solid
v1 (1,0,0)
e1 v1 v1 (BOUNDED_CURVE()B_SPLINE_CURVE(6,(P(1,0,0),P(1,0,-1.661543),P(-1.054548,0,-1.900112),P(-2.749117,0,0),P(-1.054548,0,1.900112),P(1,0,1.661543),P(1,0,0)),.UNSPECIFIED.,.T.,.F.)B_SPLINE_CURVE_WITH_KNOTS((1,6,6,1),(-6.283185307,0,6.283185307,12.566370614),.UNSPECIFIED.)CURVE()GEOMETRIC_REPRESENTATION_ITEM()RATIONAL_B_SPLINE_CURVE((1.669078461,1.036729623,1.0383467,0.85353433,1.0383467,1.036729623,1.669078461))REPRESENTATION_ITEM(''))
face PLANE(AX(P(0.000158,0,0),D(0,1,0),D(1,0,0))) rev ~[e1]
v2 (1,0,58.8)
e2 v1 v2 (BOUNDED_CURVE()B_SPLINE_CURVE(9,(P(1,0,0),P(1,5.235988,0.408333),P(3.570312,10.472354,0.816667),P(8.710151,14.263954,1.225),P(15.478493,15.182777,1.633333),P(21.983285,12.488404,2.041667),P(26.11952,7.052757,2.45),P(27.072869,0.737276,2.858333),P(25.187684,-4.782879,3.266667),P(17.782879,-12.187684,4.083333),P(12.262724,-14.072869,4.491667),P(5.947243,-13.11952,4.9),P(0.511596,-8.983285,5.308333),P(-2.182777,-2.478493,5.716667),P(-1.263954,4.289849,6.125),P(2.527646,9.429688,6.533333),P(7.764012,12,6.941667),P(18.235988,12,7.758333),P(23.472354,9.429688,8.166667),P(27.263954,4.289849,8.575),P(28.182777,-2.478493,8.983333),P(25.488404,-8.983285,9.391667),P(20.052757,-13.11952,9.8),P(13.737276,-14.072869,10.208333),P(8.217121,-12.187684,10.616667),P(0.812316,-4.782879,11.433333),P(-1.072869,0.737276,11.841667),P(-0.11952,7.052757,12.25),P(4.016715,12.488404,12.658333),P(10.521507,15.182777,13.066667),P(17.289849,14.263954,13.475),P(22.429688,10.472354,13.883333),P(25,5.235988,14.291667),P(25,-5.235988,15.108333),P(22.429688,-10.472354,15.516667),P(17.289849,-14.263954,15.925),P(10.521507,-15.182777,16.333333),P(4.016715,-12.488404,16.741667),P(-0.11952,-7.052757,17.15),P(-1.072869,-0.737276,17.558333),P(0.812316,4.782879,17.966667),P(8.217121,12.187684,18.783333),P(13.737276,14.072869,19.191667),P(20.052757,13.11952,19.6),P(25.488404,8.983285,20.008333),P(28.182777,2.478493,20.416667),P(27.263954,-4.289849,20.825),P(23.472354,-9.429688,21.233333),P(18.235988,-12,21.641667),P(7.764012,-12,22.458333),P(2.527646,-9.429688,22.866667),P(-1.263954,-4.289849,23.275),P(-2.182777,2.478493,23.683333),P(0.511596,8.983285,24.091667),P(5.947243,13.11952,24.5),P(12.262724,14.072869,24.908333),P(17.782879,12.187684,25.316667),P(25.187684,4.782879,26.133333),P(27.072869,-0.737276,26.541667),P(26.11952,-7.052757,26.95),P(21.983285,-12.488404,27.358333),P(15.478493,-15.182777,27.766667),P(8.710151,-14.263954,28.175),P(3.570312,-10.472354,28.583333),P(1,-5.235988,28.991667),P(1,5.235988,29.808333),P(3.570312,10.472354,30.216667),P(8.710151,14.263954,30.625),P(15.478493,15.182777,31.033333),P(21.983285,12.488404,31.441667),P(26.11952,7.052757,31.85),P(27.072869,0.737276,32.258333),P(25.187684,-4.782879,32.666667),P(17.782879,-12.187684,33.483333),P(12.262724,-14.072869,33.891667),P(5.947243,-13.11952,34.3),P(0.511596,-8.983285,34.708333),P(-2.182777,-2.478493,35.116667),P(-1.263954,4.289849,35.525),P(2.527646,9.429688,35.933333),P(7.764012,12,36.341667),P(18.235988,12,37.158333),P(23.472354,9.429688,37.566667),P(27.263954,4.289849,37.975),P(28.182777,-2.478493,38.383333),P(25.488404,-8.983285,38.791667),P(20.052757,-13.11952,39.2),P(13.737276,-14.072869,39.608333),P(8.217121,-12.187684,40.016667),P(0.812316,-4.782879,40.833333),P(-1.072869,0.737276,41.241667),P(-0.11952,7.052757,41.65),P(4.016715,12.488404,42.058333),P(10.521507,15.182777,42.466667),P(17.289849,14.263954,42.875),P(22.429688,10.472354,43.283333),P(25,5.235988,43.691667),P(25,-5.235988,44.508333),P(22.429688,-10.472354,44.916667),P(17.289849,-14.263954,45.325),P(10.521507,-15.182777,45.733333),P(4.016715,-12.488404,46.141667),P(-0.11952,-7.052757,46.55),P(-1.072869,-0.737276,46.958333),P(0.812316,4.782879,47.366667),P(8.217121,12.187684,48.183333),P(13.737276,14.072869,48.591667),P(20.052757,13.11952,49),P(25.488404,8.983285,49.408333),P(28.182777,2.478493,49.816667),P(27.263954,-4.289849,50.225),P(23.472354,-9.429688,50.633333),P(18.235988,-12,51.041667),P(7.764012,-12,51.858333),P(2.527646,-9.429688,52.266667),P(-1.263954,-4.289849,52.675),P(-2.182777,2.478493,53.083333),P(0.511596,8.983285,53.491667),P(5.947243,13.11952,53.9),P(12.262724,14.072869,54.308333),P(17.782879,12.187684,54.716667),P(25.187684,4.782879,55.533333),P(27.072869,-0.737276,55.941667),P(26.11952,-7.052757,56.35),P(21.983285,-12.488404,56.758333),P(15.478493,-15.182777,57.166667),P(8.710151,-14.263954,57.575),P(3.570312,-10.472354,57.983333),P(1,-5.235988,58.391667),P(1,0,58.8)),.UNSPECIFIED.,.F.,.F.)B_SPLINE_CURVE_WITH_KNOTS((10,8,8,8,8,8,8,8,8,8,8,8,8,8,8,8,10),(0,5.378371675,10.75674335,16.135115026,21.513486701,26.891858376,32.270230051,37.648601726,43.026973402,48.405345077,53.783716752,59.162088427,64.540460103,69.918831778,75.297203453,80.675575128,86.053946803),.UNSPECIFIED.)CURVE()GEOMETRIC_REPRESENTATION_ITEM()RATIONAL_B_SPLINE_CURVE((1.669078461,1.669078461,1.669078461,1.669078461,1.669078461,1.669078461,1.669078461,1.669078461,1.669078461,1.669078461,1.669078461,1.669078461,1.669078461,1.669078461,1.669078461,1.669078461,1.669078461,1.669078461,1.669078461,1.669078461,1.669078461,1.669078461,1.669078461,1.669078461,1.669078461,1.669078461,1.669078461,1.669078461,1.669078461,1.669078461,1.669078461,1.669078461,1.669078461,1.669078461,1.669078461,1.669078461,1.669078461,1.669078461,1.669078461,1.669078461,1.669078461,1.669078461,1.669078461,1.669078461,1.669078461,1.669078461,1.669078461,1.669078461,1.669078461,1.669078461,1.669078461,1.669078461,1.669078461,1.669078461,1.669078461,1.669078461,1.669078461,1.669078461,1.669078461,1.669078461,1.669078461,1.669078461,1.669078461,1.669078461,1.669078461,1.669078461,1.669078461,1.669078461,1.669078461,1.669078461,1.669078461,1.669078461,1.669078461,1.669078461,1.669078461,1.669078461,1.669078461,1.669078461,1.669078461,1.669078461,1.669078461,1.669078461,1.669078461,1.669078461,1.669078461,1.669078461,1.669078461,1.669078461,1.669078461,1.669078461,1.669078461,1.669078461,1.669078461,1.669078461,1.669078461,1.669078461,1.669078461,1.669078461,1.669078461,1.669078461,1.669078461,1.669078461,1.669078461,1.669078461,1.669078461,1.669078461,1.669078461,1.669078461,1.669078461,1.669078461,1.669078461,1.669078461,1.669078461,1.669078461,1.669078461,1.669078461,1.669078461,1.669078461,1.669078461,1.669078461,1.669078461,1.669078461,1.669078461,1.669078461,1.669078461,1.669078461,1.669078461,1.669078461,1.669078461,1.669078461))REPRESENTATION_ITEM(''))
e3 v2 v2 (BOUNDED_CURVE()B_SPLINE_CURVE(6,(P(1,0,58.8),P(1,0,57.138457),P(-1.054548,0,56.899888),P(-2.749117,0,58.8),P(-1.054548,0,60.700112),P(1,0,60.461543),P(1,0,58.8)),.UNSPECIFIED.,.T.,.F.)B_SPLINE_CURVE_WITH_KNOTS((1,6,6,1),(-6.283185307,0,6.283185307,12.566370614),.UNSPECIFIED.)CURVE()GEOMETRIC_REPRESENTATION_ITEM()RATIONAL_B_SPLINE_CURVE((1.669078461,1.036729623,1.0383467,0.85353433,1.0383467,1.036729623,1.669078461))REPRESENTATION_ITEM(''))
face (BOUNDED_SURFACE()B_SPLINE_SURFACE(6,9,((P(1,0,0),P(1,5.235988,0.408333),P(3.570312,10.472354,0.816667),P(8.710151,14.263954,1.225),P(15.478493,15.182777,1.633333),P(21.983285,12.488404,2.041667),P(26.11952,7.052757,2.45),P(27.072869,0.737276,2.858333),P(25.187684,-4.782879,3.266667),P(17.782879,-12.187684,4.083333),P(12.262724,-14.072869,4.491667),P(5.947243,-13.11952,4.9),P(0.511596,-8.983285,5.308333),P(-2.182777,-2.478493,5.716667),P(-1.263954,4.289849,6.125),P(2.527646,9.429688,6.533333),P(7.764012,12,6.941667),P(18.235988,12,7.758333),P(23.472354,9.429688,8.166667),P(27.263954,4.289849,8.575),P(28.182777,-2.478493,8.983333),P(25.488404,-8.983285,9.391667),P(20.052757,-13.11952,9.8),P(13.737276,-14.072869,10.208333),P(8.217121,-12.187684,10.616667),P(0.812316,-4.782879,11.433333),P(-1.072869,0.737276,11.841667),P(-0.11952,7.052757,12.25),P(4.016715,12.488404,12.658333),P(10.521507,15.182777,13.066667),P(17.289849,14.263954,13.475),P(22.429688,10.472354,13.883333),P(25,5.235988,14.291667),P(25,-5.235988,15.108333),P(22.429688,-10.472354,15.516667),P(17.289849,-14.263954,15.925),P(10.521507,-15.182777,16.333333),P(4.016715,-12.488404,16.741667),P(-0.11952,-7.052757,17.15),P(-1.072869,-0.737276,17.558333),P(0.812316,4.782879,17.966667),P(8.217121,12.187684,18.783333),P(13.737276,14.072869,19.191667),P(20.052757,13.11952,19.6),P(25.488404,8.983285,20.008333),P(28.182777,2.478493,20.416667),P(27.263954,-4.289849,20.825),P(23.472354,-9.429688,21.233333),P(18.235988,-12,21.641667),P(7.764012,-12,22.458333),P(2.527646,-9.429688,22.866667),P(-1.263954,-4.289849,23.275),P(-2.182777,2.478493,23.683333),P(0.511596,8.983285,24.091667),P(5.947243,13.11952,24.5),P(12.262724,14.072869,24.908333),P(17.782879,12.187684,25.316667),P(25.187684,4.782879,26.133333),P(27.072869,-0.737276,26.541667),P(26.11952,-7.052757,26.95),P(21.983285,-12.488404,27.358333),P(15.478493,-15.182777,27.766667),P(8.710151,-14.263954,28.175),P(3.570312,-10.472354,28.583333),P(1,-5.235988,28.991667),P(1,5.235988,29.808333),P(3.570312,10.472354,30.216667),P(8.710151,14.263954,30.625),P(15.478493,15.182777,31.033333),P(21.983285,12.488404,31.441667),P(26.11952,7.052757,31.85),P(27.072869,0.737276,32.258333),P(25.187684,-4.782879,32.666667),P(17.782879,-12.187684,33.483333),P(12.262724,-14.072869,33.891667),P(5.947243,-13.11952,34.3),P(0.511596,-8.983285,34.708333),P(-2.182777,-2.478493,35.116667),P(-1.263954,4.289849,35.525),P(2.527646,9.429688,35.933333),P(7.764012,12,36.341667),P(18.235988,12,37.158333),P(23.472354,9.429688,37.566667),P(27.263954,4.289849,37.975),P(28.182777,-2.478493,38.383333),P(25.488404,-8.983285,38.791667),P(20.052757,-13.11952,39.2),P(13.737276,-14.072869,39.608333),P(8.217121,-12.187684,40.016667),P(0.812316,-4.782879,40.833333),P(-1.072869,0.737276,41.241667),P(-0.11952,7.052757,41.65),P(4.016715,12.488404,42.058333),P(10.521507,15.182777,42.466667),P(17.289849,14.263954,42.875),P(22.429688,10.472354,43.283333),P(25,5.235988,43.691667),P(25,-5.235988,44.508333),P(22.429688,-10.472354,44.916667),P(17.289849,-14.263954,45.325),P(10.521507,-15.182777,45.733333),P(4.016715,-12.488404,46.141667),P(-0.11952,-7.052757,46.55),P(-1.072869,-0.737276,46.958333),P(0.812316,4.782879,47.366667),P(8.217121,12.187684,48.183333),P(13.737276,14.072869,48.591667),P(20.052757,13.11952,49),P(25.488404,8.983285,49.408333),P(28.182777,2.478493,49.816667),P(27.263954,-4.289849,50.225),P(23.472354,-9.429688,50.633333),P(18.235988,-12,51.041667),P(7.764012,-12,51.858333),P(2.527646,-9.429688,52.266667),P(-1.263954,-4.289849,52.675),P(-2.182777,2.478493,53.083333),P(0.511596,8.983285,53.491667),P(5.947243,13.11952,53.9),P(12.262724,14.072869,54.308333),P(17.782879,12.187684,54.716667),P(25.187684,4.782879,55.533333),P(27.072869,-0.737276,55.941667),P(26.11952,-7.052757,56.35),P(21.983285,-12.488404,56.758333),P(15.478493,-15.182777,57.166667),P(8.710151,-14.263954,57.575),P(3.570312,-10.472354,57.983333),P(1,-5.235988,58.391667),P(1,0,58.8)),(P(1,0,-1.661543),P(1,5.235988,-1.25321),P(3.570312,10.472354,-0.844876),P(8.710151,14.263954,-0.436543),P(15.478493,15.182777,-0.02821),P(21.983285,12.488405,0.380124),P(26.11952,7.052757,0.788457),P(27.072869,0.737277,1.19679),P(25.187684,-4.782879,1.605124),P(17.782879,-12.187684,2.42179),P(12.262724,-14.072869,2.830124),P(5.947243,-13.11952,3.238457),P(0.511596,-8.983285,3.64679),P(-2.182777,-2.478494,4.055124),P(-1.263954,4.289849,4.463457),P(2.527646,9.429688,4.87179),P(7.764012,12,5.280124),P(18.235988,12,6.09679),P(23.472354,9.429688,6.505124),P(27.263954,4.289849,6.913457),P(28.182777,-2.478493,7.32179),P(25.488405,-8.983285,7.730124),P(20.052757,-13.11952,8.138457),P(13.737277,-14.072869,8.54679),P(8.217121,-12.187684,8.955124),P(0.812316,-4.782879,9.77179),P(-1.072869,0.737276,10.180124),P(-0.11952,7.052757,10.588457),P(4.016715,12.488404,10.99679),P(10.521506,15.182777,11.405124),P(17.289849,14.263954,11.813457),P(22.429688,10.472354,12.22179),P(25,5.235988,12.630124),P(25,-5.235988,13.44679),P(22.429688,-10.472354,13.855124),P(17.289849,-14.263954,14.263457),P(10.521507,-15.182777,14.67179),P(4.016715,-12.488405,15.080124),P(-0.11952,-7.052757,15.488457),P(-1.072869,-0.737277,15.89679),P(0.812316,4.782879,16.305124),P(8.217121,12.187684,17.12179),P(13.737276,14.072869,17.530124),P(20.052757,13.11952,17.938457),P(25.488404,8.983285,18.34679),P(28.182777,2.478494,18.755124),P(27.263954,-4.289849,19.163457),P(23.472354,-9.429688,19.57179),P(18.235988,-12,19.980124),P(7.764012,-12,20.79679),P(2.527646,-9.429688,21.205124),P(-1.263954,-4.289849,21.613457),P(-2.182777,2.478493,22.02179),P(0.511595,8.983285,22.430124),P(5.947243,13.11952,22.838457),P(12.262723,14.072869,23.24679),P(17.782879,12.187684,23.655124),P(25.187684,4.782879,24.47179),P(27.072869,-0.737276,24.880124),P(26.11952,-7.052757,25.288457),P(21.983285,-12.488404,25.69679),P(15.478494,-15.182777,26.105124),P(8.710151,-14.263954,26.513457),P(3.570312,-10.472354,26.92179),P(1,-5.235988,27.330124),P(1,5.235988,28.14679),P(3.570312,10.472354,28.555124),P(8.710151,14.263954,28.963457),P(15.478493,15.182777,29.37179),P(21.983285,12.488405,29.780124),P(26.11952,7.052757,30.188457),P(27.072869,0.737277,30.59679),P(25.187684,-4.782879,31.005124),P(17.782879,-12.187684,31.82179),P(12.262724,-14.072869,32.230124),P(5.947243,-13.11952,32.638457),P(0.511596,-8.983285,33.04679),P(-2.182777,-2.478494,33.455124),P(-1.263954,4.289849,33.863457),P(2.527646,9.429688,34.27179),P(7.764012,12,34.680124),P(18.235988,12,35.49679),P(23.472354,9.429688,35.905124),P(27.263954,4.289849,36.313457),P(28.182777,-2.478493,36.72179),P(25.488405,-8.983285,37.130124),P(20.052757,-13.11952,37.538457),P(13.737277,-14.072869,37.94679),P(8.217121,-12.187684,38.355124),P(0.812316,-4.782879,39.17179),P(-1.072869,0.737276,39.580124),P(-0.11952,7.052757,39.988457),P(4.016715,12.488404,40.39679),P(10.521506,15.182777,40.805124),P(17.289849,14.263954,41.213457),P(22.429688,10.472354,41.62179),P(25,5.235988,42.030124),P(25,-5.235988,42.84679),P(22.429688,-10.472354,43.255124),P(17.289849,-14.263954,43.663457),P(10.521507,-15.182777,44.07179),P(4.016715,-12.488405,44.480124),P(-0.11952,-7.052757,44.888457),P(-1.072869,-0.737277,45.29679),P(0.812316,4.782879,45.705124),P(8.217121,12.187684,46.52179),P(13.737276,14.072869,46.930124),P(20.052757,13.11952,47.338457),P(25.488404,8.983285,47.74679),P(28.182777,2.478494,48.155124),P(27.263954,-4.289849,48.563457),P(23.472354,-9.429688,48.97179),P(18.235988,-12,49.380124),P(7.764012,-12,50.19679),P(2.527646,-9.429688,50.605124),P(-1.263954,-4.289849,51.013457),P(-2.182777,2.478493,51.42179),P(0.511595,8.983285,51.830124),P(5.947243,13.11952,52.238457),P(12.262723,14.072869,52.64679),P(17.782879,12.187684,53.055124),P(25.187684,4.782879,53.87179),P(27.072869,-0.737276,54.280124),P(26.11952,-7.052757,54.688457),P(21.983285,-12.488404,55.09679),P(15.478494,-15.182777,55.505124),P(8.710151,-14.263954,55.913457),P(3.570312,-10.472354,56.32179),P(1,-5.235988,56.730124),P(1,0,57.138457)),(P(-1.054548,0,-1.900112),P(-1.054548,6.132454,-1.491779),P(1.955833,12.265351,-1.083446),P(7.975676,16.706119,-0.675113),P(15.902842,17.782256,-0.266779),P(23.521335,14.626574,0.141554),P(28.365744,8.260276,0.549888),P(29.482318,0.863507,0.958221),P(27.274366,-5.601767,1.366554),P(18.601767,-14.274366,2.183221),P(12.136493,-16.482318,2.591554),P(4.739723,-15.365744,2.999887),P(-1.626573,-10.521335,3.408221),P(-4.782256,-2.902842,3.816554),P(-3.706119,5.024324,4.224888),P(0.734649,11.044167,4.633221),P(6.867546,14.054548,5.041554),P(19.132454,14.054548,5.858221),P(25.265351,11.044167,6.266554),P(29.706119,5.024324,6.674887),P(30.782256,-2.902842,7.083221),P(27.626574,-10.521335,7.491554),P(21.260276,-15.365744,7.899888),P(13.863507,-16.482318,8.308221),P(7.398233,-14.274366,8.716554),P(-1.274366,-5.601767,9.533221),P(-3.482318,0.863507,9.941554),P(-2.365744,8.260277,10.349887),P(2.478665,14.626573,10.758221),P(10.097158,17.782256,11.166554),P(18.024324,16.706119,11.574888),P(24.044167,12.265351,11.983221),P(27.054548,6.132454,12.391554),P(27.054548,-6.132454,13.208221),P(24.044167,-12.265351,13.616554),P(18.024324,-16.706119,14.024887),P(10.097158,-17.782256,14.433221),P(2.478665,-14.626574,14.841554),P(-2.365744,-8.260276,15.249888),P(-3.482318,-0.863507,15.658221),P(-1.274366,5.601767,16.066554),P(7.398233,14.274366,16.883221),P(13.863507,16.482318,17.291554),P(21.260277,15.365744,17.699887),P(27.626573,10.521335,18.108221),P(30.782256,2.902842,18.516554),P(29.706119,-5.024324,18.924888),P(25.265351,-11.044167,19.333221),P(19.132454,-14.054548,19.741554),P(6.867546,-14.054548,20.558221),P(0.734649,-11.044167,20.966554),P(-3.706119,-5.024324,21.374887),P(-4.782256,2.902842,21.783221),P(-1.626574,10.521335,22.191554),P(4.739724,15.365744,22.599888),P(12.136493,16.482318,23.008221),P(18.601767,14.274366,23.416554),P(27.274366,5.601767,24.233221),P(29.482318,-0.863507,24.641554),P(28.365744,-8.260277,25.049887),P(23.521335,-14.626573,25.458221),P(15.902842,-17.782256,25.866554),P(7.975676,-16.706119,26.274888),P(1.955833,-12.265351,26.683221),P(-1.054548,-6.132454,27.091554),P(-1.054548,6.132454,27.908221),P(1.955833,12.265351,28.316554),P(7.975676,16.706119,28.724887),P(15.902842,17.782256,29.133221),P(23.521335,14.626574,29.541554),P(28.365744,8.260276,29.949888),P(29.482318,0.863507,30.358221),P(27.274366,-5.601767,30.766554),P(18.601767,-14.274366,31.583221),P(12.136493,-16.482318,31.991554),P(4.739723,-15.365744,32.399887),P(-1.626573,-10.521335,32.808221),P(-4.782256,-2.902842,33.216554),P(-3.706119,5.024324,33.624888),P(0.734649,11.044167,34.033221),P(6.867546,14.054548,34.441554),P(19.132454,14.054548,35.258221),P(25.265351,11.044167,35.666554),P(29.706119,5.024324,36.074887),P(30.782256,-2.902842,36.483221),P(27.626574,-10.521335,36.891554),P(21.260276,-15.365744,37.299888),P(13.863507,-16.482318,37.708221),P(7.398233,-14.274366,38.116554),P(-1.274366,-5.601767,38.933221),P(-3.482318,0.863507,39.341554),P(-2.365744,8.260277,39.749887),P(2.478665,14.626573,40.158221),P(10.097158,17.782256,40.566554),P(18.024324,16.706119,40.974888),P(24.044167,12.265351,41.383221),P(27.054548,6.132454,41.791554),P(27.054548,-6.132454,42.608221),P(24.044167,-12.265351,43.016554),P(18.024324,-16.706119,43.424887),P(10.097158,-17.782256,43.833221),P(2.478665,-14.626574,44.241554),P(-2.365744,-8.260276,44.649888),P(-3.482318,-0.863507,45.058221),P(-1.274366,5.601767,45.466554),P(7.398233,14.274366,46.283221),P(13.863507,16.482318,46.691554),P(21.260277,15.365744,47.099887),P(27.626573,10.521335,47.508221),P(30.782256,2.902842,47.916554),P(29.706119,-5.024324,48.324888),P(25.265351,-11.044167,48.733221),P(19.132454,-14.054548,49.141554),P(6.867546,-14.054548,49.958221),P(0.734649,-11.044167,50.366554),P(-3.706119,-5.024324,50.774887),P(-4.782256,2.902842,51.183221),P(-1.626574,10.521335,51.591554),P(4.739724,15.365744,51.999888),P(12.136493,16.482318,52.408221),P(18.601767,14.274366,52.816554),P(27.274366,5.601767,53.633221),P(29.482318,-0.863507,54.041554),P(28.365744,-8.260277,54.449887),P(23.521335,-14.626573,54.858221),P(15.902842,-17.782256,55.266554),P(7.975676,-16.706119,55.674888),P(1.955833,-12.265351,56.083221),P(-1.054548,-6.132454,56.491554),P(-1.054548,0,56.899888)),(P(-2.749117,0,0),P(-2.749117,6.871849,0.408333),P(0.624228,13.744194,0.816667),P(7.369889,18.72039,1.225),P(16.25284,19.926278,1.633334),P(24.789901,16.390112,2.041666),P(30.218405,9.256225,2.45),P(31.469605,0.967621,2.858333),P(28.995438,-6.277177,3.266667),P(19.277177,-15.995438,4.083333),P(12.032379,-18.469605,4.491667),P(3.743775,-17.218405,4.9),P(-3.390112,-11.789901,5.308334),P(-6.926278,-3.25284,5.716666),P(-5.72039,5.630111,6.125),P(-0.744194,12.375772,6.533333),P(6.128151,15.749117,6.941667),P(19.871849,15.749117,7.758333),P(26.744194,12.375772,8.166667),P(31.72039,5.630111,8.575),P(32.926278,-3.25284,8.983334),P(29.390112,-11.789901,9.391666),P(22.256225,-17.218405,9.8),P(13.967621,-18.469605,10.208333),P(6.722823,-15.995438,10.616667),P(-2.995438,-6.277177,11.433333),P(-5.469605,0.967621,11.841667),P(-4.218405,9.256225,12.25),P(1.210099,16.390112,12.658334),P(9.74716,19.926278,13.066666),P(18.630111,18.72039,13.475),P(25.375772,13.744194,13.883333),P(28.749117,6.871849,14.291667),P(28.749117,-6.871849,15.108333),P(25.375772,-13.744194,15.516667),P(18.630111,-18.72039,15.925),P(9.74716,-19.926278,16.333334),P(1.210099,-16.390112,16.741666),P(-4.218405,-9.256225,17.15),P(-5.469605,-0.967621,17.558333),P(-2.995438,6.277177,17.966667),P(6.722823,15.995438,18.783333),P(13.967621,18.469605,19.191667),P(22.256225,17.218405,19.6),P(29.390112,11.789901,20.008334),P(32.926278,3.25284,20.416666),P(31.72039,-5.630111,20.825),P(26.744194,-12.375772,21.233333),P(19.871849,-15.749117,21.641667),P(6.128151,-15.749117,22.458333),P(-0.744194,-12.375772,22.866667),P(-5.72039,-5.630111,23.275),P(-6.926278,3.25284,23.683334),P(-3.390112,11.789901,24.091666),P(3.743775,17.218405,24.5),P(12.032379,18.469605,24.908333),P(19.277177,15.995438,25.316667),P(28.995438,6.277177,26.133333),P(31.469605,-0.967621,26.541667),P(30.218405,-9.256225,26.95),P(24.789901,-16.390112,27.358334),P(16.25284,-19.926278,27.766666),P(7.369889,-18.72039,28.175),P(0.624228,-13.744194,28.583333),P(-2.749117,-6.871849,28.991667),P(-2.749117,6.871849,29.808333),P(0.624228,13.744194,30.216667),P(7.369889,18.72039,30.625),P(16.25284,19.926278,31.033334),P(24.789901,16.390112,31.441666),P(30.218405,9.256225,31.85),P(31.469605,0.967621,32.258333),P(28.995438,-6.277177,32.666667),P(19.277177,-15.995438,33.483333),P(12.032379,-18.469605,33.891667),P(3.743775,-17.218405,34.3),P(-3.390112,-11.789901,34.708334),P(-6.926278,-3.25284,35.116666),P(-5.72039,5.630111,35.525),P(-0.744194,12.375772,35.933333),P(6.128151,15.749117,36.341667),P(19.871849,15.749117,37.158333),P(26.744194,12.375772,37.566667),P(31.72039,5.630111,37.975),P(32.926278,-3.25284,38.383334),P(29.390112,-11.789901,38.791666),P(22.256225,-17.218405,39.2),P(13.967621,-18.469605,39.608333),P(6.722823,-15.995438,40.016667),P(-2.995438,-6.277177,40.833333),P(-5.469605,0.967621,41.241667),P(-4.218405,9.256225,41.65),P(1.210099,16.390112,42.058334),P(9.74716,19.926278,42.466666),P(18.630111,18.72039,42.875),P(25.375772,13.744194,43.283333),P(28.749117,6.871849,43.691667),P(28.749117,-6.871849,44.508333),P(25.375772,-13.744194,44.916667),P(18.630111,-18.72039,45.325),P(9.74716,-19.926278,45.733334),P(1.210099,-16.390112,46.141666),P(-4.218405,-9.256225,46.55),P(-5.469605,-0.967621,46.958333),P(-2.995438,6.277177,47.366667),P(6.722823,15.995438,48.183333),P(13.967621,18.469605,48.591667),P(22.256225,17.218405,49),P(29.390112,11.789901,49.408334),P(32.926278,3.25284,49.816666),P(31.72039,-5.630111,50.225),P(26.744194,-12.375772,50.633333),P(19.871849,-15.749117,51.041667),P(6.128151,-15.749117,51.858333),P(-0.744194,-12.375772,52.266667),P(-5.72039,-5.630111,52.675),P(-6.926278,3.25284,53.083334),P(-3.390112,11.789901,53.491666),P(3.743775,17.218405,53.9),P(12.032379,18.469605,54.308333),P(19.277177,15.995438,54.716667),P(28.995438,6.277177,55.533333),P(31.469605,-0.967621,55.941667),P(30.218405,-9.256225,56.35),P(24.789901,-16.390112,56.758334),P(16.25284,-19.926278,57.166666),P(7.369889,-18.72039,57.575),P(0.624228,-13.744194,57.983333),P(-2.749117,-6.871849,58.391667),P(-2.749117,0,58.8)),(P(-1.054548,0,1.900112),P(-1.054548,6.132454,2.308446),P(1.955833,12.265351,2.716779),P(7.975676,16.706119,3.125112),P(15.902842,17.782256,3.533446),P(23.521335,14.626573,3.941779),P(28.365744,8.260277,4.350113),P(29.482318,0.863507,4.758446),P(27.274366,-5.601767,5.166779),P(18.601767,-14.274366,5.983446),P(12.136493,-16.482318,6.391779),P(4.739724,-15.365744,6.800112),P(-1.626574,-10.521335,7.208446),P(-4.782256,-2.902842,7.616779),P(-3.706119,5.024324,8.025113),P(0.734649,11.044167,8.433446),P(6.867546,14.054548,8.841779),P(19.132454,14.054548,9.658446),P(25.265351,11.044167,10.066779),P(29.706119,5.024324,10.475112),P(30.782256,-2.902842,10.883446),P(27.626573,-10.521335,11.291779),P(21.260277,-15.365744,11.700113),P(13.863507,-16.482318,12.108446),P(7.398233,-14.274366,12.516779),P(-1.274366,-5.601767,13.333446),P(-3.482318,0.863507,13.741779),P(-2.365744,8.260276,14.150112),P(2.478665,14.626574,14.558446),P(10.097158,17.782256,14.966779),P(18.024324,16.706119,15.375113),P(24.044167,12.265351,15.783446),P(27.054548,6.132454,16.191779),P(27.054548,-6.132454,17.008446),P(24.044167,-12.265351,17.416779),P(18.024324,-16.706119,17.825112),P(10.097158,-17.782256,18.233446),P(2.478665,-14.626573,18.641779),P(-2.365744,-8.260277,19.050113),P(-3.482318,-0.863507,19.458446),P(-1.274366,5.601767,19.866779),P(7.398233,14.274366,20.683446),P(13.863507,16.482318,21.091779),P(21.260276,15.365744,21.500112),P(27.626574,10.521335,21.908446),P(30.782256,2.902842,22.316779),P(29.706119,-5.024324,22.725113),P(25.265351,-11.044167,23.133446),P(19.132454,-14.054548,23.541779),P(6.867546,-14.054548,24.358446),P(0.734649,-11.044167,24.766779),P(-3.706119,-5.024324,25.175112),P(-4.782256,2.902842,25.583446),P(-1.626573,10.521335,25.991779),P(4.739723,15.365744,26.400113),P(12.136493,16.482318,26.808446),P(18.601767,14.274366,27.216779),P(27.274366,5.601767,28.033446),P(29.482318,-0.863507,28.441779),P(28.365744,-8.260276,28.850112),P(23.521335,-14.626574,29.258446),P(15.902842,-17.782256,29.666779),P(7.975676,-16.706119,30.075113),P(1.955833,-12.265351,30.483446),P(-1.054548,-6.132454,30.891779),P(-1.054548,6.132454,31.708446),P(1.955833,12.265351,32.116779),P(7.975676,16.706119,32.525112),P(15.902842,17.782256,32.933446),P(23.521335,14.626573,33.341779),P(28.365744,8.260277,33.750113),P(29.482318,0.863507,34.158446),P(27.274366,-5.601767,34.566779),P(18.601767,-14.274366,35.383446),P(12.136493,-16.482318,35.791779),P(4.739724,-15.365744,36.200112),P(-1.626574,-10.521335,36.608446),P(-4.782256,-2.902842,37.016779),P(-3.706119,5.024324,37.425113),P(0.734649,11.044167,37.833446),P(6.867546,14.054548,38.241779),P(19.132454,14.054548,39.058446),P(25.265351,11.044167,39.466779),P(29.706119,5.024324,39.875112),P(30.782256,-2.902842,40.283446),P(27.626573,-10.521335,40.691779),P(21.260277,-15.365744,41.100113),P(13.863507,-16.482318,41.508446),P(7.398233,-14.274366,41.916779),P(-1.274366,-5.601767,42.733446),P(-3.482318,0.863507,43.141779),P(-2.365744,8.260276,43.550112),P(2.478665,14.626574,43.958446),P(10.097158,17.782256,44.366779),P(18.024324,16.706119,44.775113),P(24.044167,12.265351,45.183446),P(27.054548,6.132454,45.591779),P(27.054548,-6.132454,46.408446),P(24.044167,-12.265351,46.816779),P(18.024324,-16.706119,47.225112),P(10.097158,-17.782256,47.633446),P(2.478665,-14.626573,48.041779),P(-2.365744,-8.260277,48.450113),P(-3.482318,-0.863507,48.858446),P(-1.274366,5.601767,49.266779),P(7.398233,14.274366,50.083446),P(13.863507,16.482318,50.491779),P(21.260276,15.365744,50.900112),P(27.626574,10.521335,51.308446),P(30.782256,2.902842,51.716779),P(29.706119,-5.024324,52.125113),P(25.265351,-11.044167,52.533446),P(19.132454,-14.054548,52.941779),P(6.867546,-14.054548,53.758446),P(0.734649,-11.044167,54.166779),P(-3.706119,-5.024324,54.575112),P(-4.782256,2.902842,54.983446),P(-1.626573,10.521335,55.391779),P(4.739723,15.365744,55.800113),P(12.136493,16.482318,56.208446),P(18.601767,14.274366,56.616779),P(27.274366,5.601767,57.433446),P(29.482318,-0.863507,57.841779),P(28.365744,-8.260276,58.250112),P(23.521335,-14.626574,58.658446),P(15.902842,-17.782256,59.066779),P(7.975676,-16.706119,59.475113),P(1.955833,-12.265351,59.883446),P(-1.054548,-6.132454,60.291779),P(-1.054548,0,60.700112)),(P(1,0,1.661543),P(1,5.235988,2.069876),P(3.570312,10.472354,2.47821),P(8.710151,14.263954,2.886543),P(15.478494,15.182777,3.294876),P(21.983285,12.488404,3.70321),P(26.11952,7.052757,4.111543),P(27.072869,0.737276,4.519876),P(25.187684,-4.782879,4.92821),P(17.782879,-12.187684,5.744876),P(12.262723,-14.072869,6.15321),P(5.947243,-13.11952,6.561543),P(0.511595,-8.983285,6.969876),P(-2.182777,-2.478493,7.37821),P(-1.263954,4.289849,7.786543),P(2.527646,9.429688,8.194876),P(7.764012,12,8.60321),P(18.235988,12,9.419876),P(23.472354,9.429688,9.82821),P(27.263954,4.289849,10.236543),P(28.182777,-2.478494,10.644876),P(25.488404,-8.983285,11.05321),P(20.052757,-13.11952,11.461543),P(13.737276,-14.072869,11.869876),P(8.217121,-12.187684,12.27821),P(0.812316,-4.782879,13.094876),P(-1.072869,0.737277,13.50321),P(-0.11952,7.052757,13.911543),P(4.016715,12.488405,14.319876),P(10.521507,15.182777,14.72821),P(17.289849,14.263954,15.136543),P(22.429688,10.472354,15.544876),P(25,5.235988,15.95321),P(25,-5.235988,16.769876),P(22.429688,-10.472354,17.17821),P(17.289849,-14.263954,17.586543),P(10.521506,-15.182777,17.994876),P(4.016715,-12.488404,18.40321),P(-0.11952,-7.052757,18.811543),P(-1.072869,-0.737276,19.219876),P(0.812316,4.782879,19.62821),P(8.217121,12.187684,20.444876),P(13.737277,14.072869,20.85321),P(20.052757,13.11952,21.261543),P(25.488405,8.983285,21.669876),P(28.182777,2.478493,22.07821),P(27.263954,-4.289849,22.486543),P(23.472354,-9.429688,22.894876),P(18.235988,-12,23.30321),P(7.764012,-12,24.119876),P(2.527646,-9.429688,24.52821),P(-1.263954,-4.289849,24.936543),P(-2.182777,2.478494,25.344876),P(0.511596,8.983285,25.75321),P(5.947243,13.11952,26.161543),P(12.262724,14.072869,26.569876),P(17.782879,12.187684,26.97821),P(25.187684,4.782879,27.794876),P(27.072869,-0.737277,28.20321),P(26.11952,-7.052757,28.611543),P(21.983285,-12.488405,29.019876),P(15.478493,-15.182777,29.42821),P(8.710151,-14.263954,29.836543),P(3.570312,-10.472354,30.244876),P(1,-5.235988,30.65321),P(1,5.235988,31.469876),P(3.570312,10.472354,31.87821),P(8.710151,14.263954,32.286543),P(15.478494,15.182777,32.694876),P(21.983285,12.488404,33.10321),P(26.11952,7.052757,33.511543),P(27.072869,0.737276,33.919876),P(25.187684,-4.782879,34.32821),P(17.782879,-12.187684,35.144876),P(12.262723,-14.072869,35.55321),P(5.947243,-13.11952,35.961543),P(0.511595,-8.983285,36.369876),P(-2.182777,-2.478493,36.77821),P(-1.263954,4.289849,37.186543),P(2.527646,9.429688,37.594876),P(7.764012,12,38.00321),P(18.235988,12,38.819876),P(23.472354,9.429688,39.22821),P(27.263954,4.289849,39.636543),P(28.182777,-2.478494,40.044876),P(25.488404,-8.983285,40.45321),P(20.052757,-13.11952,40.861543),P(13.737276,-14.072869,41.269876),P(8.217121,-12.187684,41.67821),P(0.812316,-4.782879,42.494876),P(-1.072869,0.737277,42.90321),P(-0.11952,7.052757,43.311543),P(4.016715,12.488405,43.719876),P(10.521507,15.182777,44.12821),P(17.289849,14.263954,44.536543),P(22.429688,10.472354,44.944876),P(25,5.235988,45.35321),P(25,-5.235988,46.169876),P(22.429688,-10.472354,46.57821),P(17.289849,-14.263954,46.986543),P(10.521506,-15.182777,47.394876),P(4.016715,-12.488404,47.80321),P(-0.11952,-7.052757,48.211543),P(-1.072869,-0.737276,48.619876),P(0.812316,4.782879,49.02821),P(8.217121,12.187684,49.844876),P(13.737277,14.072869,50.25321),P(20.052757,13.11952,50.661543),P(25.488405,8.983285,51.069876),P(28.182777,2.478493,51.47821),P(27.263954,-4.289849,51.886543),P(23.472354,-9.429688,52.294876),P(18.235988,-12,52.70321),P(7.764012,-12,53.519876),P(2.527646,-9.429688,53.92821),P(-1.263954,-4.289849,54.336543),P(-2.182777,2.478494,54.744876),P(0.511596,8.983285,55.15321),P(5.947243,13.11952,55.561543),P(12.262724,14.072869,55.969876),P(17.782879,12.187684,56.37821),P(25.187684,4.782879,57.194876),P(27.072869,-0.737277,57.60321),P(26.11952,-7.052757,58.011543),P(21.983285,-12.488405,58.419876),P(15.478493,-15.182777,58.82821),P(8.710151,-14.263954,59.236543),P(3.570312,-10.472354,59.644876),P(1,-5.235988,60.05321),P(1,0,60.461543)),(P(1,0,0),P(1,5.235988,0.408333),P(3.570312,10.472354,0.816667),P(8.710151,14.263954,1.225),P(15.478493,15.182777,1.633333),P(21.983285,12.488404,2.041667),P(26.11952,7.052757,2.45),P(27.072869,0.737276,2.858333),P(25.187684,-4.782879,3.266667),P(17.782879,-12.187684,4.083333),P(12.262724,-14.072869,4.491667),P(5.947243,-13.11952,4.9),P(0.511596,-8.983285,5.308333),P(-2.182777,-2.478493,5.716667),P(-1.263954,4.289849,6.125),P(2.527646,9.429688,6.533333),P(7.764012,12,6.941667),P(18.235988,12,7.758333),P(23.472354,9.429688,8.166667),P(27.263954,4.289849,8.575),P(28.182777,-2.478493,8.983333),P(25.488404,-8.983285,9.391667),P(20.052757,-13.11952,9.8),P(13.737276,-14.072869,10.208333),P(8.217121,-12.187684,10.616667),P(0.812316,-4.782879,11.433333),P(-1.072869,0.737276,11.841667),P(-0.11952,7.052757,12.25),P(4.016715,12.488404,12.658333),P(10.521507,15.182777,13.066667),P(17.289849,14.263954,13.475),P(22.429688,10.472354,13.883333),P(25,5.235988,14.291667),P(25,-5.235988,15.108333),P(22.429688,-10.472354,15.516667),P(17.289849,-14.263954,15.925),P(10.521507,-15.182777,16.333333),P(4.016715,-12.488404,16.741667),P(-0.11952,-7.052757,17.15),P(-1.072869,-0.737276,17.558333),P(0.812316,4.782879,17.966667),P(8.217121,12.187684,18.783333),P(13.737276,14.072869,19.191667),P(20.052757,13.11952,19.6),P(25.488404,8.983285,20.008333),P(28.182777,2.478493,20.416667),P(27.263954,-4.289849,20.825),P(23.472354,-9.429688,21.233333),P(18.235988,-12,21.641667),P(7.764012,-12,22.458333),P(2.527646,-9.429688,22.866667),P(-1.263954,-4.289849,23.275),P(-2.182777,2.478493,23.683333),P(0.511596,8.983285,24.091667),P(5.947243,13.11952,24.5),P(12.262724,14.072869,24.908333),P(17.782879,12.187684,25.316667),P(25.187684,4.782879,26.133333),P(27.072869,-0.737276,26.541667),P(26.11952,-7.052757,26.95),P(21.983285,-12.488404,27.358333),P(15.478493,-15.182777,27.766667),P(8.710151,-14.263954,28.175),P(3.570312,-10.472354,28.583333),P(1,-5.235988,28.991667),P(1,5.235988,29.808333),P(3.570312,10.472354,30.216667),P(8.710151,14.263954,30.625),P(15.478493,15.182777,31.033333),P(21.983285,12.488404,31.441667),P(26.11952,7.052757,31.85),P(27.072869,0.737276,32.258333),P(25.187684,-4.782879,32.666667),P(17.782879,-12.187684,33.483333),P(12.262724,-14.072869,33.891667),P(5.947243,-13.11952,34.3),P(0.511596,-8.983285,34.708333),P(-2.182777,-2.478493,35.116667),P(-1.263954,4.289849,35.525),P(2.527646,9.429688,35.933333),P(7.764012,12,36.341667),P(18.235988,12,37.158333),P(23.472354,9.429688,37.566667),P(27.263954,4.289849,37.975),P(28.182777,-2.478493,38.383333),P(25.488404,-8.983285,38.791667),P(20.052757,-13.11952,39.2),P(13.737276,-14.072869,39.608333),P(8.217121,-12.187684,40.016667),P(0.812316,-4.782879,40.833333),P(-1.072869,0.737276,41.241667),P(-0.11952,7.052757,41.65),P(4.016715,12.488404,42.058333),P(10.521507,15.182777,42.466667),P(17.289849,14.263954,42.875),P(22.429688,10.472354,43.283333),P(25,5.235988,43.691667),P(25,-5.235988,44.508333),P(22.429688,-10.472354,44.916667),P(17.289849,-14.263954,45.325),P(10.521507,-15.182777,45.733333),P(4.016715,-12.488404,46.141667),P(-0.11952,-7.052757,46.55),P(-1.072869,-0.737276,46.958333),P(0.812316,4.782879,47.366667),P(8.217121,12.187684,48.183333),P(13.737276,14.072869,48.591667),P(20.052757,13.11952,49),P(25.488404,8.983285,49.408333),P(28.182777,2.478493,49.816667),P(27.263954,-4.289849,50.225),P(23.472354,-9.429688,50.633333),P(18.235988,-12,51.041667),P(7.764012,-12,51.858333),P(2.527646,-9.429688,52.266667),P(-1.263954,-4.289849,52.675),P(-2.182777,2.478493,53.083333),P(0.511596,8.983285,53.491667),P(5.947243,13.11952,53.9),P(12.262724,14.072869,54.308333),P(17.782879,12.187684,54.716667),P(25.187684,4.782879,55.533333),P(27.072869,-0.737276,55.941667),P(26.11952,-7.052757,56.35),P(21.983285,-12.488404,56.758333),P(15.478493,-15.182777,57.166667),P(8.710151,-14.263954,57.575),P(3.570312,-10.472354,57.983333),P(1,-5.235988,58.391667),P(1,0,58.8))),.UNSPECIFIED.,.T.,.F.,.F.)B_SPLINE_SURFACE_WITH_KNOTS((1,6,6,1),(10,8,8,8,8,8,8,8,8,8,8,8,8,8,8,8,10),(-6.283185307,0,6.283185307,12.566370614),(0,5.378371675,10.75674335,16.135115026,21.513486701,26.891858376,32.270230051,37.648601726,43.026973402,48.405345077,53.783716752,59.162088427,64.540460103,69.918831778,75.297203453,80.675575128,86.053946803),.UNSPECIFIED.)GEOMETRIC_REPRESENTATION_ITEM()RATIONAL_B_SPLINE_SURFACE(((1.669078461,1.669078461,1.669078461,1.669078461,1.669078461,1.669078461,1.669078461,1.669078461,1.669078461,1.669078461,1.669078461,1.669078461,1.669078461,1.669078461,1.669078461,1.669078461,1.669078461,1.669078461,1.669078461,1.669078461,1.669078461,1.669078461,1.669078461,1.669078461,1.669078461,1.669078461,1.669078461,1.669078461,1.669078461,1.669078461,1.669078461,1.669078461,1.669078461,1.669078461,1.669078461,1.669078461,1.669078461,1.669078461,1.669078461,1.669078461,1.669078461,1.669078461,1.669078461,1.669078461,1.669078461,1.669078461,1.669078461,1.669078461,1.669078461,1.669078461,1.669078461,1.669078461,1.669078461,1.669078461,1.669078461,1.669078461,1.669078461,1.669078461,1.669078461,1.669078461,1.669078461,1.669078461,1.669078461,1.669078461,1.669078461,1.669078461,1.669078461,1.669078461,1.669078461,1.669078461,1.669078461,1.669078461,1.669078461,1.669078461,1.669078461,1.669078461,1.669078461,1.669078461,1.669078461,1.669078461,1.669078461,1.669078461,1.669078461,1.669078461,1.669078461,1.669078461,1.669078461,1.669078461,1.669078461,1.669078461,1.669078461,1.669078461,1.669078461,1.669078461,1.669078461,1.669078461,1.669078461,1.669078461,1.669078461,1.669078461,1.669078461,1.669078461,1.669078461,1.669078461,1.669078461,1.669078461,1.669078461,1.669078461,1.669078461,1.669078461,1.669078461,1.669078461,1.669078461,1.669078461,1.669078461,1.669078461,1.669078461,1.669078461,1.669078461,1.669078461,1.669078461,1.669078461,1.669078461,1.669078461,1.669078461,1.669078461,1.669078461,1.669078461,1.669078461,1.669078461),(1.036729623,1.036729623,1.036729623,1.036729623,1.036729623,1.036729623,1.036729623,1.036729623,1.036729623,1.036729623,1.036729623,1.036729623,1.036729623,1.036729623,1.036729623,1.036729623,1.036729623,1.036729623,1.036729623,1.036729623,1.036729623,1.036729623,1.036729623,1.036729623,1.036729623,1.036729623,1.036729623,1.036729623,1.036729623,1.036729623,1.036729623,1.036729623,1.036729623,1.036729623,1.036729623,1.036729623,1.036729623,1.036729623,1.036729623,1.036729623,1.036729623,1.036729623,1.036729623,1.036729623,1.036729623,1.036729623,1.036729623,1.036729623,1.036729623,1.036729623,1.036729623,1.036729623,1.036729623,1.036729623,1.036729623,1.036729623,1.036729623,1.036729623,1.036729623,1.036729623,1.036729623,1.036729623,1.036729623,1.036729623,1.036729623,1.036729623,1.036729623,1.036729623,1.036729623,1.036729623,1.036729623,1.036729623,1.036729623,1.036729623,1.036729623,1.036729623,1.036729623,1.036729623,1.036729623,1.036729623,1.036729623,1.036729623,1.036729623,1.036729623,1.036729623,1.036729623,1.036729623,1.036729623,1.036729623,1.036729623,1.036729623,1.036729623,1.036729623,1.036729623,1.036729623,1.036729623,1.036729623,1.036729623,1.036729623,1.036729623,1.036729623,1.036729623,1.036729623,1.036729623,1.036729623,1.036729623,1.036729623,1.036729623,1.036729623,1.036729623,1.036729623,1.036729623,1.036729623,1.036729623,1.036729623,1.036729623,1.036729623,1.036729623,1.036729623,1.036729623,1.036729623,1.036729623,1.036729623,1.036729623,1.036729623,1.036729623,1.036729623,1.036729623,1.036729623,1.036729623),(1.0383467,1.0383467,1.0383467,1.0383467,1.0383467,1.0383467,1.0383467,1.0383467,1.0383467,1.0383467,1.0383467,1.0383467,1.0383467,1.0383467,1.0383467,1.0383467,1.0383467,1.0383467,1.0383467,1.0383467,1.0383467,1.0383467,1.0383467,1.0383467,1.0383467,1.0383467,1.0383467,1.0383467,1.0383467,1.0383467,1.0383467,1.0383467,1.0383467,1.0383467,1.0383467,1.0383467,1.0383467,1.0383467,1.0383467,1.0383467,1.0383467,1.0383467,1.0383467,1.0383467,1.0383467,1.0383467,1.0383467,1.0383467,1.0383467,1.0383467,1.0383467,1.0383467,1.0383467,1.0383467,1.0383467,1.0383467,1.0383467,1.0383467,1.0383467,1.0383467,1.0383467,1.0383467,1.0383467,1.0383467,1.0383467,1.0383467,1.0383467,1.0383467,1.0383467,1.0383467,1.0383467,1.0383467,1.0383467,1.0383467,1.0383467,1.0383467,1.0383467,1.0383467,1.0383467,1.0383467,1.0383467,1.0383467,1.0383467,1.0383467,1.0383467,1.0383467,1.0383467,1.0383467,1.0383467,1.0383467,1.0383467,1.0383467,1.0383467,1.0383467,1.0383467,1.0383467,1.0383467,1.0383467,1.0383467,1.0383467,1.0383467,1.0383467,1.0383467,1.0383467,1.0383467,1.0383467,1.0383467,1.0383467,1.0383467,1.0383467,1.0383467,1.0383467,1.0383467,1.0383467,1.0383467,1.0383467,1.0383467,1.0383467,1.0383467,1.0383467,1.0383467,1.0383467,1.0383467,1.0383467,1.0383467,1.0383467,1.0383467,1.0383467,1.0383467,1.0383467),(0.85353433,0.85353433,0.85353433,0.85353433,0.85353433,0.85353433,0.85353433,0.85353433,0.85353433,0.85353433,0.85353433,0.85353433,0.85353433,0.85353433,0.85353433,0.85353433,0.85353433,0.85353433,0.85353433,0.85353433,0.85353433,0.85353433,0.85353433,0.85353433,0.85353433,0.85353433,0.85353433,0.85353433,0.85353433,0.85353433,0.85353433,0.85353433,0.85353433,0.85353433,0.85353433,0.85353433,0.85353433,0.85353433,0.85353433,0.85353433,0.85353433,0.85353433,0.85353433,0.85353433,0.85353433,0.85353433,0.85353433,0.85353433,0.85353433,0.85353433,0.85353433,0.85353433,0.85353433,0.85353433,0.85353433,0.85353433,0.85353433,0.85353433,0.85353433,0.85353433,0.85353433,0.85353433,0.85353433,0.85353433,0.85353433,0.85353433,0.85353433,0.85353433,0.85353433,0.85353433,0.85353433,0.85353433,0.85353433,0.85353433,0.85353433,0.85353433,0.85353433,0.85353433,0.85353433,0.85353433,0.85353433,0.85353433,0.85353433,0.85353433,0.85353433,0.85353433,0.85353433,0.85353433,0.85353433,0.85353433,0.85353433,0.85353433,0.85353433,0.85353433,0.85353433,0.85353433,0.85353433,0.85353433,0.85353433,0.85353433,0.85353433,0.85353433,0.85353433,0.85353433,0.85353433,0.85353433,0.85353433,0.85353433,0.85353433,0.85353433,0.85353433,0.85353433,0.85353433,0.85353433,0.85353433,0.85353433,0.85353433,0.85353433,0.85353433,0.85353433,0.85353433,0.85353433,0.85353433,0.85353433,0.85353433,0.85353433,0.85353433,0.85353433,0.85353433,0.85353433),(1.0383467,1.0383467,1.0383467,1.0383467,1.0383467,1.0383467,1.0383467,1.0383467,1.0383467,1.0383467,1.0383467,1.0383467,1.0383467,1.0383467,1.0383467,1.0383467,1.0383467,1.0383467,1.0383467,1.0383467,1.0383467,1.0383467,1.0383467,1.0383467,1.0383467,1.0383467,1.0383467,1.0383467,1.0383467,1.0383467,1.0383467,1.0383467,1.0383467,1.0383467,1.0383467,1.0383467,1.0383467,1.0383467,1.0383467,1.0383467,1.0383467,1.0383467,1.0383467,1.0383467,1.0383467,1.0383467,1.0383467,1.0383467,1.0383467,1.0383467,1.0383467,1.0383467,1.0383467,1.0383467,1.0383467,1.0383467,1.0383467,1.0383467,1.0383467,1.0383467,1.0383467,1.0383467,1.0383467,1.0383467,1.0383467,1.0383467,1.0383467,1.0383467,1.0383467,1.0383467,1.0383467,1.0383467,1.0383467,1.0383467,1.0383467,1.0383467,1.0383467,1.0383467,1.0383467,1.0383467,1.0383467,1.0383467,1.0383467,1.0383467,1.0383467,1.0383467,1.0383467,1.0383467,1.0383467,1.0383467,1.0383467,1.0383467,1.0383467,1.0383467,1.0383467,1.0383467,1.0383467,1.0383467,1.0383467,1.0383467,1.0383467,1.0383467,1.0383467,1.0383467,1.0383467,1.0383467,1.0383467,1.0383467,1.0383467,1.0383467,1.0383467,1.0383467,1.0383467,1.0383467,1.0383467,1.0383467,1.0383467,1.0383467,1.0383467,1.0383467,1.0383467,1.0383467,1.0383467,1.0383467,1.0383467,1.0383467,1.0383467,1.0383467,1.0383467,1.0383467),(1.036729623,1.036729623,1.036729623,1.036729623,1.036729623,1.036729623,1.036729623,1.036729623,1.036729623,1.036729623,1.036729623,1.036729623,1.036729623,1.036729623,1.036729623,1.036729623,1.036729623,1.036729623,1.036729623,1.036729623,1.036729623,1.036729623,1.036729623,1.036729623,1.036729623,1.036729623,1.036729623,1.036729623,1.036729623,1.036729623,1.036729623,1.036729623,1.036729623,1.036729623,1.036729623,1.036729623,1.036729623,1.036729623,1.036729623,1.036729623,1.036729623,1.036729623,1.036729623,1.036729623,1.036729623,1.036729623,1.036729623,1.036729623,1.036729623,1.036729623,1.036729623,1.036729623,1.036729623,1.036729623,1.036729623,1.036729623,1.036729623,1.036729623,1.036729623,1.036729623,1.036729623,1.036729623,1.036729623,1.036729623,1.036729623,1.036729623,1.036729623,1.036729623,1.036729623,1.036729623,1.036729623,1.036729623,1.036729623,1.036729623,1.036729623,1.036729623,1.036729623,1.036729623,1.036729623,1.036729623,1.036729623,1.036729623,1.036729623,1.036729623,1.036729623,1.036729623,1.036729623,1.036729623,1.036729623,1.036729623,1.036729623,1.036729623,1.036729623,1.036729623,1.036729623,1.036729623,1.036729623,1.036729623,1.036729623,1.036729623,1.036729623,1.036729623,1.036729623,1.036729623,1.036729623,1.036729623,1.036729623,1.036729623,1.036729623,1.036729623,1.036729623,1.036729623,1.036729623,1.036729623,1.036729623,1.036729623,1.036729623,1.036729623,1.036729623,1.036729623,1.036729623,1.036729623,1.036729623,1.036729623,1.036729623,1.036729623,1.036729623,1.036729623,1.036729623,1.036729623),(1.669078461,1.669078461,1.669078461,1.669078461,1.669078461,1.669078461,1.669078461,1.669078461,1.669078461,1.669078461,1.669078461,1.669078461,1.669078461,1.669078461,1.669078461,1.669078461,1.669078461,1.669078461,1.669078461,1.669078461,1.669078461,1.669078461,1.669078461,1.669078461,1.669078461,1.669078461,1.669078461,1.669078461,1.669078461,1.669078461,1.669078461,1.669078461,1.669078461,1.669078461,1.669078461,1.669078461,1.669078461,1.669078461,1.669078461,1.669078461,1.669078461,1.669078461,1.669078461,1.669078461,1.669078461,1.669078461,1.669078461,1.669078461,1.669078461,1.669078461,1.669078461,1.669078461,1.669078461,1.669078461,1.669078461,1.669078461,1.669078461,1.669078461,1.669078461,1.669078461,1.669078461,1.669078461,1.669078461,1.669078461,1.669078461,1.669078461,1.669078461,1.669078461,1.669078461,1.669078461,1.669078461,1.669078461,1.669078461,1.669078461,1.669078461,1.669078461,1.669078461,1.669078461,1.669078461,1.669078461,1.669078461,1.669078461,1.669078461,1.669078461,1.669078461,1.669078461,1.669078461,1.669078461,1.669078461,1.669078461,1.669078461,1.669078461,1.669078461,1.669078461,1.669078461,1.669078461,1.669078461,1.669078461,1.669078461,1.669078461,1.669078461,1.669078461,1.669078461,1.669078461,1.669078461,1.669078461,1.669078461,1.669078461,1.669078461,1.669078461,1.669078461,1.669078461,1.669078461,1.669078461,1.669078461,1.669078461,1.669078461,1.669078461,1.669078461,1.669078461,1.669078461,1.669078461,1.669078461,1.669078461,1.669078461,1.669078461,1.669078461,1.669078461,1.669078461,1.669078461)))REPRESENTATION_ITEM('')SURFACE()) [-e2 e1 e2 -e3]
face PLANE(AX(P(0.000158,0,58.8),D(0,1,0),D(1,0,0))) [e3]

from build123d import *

# Parameters (mm, degrees)
SWEEP1_PITCH       = 5.88
SWEEP1_HEIGHT      = 58.8
SWEEP1_RADIUS      = 13
SWEEP1_START_ANGLE = -180
SKETCH4_R          = 1


with BuildPart() as part:
    # Sweep1: sweep along a helix
    with BuildLine() as sweep1_path:
        add(Helix(SWEEP1_PITCH, SWEEP1_HEIGHT, SWEEP1_RADIUS, center=(13, 0, 0), direction=(0, 0, 1), lefthand=True, mode=Mode.PRIVATE).rotate(Axis((13, 0, 0), (0, 0, 1)), SWEEP1_START_ANGLE))
    # Sketch4 → Sweep1 (sweep)
    with BuildSketch(Plane(origin=(0, 0, 0), x_dir=(1, 0, 0), z_dir=(0, 1, 0))):
        Circle(SKETCH4_R)
    sweep(path=sweep1_path.line, is_frenet=True)


solid = part.part
